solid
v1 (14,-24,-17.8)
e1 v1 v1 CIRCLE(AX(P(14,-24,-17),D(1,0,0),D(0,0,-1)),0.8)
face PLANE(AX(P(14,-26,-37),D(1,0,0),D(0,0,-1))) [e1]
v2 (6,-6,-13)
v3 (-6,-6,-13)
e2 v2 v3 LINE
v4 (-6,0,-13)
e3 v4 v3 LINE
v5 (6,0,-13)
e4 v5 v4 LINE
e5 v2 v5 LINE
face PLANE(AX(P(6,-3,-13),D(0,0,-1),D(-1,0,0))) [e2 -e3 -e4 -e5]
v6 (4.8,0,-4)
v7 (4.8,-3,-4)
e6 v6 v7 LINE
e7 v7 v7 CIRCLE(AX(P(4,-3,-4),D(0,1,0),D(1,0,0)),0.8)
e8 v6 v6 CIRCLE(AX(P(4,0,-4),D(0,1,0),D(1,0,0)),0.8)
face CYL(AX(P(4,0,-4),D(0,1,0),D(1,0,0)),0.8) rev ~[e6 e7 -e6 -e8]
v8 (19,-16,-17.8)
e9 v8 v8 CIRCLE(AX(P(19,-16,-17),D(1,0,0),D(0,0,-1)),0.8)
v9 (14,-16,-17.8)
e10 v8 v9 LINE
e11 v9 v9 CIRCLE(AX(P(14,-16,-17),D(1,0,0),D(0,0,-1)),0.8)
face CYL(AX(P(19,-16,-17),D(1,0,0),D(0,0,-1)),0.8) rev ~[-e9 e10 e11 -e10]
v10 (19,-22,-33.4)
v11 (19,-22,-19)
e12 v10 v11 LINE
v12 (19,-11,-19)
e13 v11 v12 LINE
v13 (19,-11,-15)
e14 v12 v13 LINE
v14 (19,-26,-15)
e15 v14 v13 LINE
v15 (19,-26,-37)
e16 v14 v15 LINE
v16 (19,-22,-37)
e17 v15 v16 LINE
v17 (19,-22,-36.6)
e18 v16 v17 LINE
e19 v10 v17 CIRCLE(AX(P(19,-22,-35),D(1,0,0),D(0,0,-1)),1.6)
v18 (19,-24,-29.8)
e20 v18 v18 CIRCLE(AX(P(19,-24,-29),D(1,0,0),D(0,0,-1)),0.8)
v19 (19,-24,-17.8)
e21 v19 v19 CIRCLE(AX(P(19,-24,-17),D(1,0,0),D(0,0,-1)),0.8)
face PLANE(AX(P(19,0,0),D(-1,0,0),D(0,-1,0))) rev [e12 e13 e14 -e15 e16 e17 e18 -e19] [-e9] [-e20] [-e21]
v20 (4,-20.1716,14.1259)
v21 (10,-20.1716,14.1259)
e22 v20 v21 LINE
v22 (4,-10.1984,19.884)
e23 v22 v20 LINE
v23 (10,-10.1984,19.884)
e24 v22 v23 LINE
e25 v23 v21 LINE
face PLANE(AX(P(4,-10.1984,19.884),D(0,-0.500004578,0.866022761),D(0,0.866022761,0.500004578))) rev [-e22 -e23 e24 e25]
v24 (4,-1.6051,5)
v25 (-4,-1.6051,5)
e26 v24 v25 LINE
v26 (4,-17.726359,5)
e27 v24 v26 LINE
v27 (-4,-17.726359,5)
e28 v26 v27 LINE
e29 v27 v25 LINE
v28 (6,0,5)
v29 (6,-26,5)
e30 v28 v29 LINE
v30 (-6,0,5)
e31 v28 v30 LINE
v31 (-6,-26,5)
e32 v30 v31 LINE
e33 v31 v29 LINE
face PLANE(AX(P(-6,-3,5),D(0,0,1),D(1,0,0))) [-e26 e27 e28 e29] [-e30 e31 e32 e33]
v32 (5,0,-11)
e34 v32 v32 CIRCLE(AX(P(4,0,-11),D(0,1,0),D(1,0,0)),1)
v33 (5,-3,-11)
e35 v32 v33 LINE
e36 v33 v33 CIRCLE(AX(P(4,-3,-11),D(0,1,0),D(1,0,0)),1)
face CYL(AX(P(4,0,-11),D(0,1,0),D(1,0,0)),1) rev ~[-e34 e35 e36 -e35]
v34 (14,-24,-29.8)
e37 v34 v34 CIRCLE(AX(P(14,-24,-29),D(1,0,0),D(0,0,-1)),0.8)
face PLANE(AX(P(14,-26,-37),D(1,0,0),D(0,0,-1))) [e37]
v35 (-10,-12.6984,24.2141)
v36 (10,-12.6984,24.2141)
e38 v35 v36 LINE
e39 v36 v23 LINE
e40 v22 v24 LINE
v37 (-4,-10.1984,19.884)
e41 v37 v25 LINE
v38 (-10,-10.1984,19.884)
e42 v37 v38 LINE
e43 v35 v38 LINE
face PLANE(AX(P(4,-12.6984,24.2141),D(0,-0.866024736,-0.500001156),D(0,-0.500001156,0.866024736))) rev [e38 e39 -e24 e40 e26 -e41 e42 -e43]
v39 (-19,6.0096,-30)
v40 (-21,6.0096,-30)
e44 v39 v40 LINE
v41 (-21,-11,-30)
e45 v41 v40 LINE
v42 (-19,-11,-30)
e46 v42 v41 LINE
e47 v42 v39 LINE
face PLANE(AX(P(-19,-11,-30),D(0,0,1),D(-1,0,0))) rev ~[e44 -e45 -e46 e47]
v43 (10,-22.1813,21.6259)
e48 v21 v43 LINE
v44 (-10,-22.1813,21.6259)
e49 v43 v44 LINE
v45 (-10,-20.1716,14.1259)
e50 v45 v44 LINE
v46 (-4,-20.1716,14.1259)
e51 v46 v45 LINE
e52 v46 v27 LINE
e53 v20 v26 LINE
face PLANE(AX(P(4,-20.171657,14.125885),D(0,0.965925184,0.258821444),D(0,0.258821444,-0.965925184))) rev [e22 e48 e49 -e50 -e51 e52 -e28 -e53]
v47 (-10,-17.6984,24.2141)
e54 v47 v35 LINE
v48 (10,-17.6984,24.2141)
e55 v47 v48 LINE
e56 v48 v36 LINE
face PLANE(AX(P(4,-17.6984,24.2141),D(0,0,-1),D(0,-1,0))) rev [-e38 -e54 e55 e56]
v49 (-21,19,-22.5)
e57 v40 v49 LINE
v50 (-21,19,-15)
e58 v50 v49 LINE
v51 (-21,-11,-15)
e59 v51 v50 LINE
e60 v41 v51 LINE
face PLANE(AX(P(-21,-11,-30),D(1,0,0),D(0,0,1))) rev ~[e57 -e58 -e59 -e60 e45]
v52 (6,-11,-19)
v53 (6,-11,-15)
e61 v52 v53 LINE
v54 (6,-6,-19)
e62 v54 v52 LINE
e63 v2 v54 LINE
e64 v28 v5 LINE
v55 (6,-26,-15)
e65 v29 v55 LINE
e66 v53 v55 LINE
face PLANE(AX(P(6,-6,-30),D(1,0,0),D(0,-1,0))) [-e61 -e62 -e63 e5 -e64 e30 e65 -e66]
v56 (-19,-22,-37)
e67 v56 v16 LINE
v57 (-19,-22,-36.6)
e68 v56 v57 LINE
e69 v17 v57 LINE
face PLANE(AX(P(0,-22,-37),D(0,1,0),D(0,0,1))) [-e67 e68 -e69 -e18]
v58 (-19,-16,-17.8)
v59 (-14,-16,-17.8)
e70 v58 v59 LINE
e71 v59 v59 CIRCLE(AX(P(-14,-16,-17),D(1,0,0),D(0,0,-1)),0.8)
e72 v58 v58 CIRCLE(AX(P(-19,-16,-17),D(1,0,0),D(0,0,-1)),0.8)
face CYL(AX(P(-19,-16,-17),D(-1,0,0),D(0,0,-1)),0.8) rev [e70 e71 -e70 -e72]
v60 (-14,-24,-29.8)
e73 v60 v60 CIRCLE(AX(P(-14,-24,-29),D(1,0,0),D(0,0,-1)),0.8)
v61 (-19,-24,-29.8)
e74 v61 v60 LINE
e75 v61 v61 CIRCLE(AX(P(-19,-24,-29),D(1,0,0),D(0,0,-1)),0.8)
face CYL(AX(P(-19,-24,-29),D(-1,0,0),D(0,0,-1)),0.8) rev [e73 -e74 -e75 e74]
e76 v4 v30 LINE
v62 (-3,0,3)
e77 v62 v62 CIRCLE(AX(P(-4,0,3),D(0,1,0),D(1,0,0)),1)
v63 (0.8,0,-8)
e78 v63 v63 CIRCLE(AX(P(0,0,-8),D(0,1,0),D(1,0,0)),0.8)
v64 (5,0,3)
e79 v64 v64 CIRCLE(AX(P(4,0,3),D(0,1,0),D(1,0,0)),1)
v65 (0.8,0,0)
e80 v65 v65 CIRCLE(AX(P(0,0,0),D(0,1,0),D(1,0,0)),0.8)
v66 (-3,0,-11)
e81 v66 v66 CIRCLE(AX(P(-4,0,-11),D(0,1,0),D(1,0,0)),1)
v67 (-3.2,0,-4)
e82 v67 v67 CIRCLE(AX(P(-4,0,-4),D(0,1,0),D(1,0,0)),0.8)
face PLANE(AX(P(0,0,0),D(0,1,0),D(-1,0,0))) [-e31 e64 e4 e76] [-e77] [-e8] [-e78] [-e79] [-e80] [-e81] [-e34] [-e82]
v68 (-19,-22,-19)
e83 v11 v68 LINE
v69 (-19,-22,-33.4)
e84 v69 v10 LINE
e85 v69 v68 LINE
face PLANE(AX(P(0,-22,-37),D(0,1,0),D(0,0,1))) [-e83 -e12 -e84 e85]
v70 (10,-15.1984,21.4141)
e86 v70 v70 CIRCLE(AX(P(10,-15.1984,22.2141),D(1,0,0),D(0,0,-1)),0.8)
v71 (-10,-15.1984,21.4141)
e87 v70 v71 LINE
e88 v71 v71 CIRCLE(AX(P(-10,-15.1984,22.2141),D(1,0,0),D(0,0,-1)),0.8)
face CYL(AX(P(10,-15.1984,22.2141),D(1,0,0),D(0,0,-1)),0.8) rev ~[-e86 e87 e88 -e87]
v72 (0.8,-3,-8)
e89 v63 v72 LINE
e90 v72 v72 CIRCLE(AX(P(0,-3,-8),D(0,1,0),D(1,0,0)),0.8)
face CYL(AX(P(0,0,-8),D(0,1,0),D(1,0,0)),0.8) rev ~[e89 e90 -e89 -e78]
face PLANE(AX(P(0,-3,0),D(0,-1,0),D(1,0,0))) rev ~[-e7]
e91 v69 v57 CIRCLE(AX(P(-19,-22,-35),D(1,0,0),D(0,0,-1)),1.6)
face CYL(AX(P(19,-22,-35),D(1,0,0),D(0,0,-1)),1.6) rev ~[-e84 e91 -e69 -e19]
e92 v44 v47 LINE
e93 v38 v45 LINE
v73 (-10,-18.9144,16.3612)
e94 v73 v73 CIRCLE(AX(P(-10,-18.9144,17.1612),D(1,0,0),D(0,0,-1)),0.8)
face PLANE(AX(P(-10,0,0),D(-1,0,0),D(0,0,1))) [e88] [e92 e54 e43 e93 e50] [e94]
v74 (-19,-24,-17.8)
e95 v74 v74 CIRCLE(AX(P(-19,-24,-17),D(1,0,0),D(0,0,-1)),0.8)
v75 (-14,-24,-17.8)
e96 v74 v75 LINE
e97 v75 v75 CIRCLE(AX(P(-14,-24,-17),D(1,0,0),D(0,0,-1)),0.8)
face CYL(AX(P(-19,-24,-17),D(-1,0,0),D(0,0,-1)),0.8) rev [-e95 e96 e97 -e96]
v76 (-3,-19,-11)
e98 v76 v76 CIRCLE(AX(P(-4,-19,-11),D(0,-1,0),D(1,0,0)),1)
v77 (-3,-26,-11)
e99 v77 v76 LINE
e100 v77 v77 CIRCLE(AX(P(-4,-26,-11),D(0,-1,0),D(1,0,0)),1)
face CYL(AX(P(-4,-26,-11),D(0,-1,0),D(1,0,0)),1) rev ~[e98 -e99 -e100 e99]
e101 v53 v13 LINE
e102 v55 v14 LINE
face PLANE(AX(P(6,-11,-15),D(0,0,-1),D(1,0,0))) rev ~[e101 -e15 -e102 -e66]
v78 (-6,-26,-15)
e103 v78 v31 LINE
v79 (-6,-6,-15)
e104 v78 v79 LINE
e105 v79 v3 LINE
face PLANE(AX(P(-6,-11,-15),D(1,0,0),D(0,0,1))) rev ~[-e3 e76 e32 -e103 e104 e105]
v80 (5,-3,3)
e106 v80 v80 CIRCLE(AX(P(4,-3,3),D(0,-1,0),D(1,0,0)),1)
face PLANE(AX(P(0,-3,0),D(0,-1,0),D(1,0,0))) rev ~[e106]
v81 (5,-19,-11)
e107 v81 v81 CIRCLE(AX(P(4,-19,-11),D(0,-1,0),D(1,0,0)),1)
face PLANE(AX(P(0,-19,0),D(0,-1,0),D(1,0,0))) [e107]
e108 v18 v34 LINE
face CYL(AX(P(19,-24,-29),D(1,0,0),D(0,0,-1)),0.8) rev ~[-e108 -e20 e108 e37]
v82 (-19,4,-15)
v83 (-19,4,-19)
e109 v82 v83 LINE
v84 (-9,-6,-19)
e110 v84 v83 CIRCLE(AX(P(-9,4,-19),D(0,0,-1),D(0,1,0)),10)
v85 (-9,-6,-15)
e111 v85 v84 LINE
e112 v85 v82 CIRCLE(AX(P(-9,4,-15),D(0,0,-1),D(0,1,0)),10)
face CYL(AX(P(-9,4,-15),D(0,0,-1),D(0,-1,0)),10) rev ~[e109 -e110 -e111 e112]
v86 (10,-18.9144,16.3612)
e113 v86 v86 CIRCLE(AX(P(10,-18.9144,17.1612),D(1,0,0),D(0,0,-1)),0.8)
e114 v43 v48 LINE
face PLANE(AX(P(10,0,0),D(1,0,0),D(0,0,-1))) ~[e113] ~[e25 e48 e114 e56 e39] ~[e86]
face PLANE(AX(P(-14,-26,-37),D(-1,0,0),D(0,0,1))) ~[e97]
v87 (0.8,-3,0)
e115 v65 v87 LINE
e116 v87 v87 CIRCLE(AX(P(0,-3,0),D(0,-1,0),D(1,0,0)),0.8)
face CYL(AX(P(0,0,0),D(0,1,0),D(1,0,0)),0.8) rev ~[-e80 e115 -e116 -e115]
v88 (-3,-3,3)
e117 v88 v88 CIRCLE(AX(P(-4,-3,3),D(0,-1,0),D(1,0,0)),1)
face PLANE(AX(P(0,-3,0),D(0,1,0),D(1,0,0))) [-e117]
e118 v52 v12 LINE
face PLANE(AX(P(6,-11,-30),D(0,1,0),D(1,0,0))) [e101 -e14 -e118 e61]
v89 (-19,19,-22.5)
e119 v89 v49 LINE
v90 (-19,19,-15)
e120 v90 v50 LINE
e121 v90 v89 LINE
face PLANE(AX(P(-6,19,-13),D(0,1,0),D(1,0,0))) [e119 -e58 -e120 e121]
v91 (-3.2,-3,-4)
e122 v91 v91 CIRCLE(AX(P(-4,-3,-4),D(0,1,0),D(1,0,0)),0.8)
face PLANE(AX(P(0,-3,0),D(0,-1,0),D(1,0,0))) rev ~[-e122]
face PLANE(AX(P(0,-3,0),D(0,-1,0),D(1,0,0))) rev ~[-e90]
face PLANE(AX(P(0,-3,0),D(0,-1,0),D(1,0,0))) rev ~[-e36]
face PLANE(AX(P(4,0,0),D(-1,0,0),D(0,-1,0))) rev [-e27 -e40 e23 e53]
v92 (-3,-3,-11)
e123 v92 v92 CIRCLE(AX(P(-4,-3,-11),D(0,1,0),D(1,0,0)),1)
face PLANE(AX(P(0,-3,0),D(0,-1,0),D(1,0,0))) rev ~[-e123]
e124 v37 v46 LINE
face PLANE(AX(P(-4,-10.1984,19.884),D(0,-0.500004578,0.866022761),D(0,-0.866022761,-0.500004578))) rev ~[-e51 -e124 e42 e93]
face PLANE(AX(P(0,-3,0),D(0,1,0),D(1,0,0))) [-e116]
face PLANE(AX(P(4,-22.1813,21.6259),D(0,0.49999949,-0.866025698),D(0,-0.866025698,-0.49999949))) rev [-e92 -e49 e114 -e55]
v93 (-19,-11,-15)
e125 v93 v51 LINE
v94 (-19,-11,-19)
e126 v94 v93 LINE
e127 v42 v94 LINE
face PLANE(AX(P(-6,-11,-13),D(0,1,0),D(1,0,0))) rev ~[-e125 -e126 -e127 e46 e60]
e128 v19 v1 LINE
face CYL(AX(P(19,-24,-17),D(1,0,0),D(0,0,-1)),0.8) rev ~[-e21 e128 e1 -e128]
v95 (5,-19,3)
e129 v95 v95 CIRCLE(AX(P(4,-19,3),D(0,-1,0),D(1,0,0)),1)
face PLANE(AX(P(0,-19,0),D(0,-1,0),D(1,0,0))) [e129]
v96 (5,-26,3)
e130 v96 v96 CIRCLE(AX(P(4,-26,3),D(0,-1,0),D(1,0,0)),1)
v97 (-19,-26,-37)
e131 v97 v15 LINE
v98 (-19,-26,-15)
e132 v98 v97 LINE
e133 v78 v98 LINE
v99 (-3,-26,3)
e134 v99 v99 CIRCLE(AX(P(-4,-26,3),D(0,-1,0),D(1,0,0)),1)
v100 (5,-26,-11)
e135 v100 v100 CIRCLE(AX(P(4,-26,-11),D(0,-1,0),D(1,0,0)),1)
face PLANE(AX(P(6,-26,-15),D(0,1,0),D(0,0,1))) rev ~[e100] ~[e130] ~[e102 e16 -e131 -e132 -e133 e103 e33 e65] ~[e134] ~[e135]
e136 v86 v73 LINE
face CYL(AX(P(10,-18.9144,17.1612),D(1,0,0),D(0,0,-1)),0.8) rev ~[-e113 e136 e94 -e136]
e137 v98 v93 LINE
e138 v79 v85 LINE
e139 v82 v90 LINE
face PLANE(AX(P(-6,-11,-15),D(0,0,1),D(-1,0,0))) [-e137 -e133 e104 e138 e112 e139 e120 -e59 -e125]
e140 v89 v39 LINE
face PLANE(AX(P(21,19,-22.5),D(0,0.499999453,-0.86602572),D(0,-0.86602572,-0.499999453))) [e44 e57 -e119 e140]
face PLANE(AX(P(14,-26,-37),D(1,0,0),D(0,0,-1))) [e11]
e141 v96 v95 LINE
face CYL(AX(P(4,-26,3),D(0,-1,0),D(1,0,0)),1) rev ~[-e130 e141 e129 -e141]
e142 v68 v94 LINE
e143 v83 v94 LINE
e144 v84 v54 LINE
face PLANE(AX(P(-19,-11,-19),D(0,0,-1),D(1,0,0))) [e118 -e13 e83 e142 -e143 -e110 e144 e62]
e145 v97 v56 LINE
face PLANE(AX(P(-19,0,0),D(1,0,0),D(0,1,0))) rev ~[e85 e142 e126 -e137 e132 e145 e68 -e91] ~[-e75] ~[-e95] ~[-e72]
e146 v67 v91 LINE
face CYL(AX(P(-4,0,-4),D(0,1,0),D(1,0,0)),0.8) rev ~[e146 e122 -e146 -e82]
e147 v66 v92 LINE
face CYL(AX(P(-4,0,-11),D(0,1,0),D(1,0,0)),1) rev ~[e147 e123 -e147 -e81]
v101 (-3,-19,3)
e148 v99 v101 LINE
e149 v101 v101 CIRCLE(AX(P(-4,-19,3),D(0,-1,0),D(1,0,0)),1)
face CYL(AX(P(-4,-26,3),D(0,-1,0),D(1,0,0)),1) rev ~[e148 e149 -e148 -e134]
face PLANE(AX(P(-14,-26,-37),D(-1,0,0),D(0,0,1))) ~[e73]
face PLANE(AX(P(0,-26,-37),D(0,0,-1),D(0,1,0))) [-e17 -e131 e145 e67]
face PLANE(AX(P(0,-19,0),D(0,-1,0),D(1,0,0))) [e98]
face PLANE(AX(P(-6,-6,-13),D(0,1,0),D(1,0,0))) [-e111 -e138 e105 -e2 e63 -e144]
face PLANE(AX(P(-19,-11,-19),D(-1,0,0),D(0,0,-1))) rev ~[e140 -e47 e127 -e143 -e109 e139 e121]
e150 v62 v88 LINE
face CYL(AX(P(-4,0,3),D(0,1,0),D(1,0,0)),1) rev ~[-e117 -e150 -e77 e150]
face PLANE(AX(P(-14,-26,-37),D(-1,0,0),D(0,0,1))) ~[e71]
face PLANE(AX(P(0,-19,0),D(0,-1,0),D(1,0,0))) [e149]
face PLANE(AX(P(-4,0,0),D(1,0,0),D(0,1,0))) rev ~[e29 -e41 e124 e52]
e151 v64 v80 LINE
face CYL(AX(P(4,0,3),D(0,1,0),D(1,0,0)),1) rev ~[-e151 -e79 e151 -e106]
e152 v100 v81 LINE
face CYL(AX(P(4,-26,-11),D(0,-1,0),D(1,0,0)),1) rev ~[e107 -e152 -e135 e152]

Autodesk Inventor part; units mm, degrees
ref_plane "YZ Plane" through (0, 0, 0) normal (1, 0, 0) x (0, 1, 0)
ref_plane "XZ Plane" through (0, 0, 0) normal (0, 1, 0) x (-1, 0, 0)
ref_plane "XY Plane" through (0, 0, 0) normal (0, 0, 1) x (1, 0, 0)
sketch "スケッチ1" plane through (0, 0, 0) normal (0, 1, 0) x (-1, 0, 0)
  line L0 (-6, -13) -> (6, -13)
  line L1 (6, -13) -> (6, 13)
  line L2 (6, 13) -> (-6, 13)
  line L3 (-6, 13) -> (-6, -13)
  line L4 (-6, -13) -> (6, 13) construction
  line L5 (6, -13) -> (-6, 13) construction
  line L6 (6, 13) -> (-6, 13)
  line L7 (-6, 13) -> (-6, 5)
  line L8 (-6, 5) -> (6, 5)
  line L9 (6, 5) -> (6, 13)
  point P0 (0, 0)
  point P1 (0, 13)
  point P2 (-6, 13)
  point P3 (6, 5)
  dimension "d0" = 12
  dimension "d1" = 26
  dimension "d26" = 12
  dimension "d27" = 8
extrude "押し出し1" add sketch "スケッチ1" against normal blind 3 contours L3 L8 L1 L0
sketch "スケッチ5" plane through (0, 0, 0) normal (1, 0, 0) x (0, 1, 0)
  line L0 (-3, 5) -> (-3, -13) projected
  line L1 (-3, 5) -> (-3, 13)
  line L2 (-1.6051, 5) -> (-12.6984, 24.2141)
  line L3 (-12.6984, 24.2141) -> (-17.6984, 24.2141)
  line L4 (-16.3866, 0) -> (-3, 0)
  line L5 (0, 5) -> (-3, 5) projected
  line L6 (-17.6984, 24.2141) -> (-22.1813, 21.6259)
  line L7 (-22.1813, 21.6259) -> (-16.3866, 0)
  line L8 (-12.6984, 24.2141) -> (-8.3683, 26.7141) construction
  line L9 (-8.3683, 26.7141) -> (-7.6183, 25.4151) construction
  circle A0 centre (-7.6183, 25.4151) radius 1 construction
  line L10 (36.5, 48) -> (-6.3683, 23.25) construction
  line L11 (0, 13) -> (36.5, 13) construction
  line L12 (0, -13) -> (0, 5) projected
  line L13 (-3, 5) -> (-1.6051, 5)
  point P0 (0, 0)
  dimension "d28" = 8
  dimension "d29" = 120
  dimension "d31" = 5
  dimension "d32" = 5
  dimension "d35" = 5
  dimension "d36" = 150
  dimension "d37" = 75
  dimension "d47" = 5
  dimension "d48" = 1.5
  dimension "d49" = 2
  dimension "d50" = 2.5
  dimension "d51" = 49.5
  dimension "d53" = 8
  dimension "d54" = 36.5
  dimension "d55" = 35
extrude "押し出し5" add sketch "スケッチ5" against normal blind 4
sketch "スケッチ6" plane through (-4, 0, 0) normal (-1, 0, 0) x (0, 0, 1)
  line L0 (0, -3) -> (0, -16.3866) projected
  line L1 (0, -16.3866) -> (21.6259, -22.1813) projected
  line L2 (21.6259, -22.1813) -> (24.2141, -17.6984) projected
  line L3 (24.2141, -17.6984) -> (24.2141, -12.6984) projected
  line L4 (24.2141, -12.6984) -> (5, -1.6051) projected
  line L5 (0, -3) -> (5, -3) projected
  line L6 (19.884, -10.1984) -> (14.1259, -20.1716)
  line L7 (24.2141, -12.6984) -> (5.604, -1.9538) projected
  line L8 (5, -3) -> (5, -1.6051) projected
  point P0 (0, 0)
  dimension "d38" = 5
extrude "押し出し6" add sketch "スケッチ6" along normal blind 6 contours L6 L4 L3 L2 L1
mirror "ミラー3" about plane through (0, -11.8932, 12.1071) normal (1, 0, 0) of "押し出し5", "押し出し6"
sketch "スケッチ7" plane through (0, 0, 0) normal (0, 1, 0) x (1, 0, 0)
  circle A0 centre (4, -3) radius 1 projected
  circle A1 centre (-4, 11) radius 1 projected
  circle A2 centre (0, 0) radius 0.8 projected
  circle A3 centre (0, 8) radius 0.8 projected
  circle A4 centre (-4, 4) radius 0.8 projected
  circle A5 centre (4, 4) radius 0.8 projected
  circle A6 centre (4, 11) radius 1 projected
  circle A7 centre (-4, -3) radius 1 projected
  line L0 (6, -8) -> (6, -10) projected
  line L1 (30, -13) -> (9, -13) projected
  line L2 (33, -9.25) -> (33, -10) projected
  arc A8 (30, 6.25) -> (30, -6.25) centre (30, 0) ccw projected
  line L3 (33, 10) -> (33, 9.25) projected
  line L4 (-30, 13) -> (30, 13) projected
  line L5 (-33, -10) -> (-33, -9.25) projected
  arc A9 (-30, -6.25) -> (-30, 6.25) centre (-30, 0) ccw projected
  line L6 (-33, 9.25) -> (-33, 10) projected
  line L7 (-9, -13) -> (-30, -13) projected
  line L8 (-6, -10) -> (-6, -8) projected
  line L9 (-3, -5) -> (3, -5) projected
  line L10 (21.75, 7.5) -> (21.75, -7.5) projected
  line L11 (18.75, -10.5) -> (14, -10.5) projected
  line L12 (11, -7.5) -> (11, 7.5) projected
  line L13 (14, 10.5) -> (18.75, 10.5) projected
  circle A10 centre (9, 10.5) radius 0.85 projected
  circle A11 centre (30, -10.5) radius 0.85 projected
  circle A12 centre (-30, -10.5) radius 0.85 projected
  circle A13 centre (-9, 10.5) radius 0.85 projected
  circle A14 centre (-30, 10.5) radius 0.85 projected
  circle A15 centre (-9, -10.5) radius 0.85 projected
  circle A16 centre (9, -10.5) radius 0.85 projected
  circle A17 centre (30, 10.5) radius 0.85 projected
  line L14 (-11, 7.5) -> (-11, -7.5) projected
  line L15 (-14, -10.5) -> (-18.75, -10.5) projected
  line L16 (-21.75, -7.5) -> (-21.75, 7.5) projected
  line L17 (-18.75, 10.5) -> (-14, 10.5) projected
  arc A18 (-30, 13) -> (-33, 10) centre (-30, 10) ccw projected
  arc A19 (-33, 9.25) -> (-30, 6.25) centre (-30, 9.25) ccw projected
  arc A20 (-30, -6.25) -> (-33, -9.25) centre (-30, -9.25) ccw projected
  arc A21 (-33, -10) -> (-30, -13) centre (-30, -10) ccw projected
  arc A22 (-9, -13) -> (-6, -10) centre (-9, -10) ccw projected
  arc A23 (-3, -5) -> (-6, -8) centre (-3, -8) ccw projected
  arc A24 (6, -8) -> (3, -5) centre (3, -8) ccw projected
  arc A25 (6, -10) -> (9, -13) centre (9, -10) ccw projected
  arc A26 (30, -13) -> (33, -10) centre (30, -10) ccw projected
  arc A27 (33, -9.25) -> (30, -6.25) centre (30, -9.25) ccw projected
  arc A28 (30, 6.25) -> (33, 9.25) centre (30, 9.25) ccw projected
  arc A29 (33, 10) -> (30, 13) centre (30, 10) ccw projected
  arc A30 (-14, -10.5) -> (-11, -7.5) centre (-14, -7.5) ccw projected
  arc A31 (-21.75, -7.5) -> (-18.75, -10.5) centre (-18.75, -7.5) ccw projected
  arc A32 (-18.75, 10.5) -> (-21.75, 7.5) centre (-18.75, 7.5) ccw projected
  arc A33 (-11, 7.5) -> (-14, 10.5) centre (-14, 7.5) ccw projected
  arc A34 (18.75, -10.5) -> (21.75, -7.5) centre (18.75, -7.5) ccw projected
  arc A35 (11, -7.5) -> (14, -10.5) centre (14, -7.5) ccw projected
  arc A36 (14, 10.5) -> (11, 7.5) centre (14, 7.5) ccw projected
  arc A37 (21.75, 7.5) -> (18.75, 10.5) centre (18.75, 7.5) ccw projected
  point P0 (0, 0)
extrude "押し出し7" cut sketch "スケッチ7" against normal up to surface (3 mm away) contours A0 | A1 | A2 | A3 | A4 | A5 | A6 | A7
sketch "スケッチ8" plane through (0, -3, 0) normal (0, -1, 0) x (1, 0, 0)
  line L0 (-6, 5) -> (6, 5) projected
  line L1 (-6, -13) -> (-6, 5) projected
  line L2 (6, -13) -> (-6, -13) projected
  line L3 (6, 5) -> (6, -13) projected
  point P0 (0, 0)
extrude "押し出し8" add sketch "スケッチ8" along normal blind 23
sketch "スケッチ9" plane through (0, -26, 0) normal (0, -1, 0) x (1, 0, 0)
  circle A0 centre (-4, 3) radius 1 projected
  circle A1 centre (4, 3) radius 1 projected
  circle A2 centre (4, -11) radius 1 projected
  circle A3 centre (4, -11) radius 1 projected
  circle A4 centre (-4, -11) radius 1 projected
  circle A5 centre (-4, -11) radius 1 projected
  point P0 (0, 0)
extrude "押し出し9" cut sketch "スケッチ9" against normal blind 7
sketch "スケッチ10" plane through (10, -17.6984, 24.2141) normal (1, 0, 0) x (0, 0, -1)
  circle A0 centre (2, 2.5) radius 1 construction
  circle A1 centre (7.0529, -1.216) radius 1 construction
  circle A2 centre (2, 2.5) radius 0.8
  circle A3 centre (7.0529, -1.216) radius 0.8
  point P0 (24.2141, 17.6984)
  dimension "d56" = 1.6
  dimension "d57" = 1.6
extrude "押し出し10" cut sketch "スケッチ10" against normal through all
sketch "スケッチ11" plane through (6, 0, 5) normal (1, 0, 0) x (0, 0, -1)
  line L0 (18, 0) -> (18, -26) projected
  line L1 (18, -11) -> (20, -11)
  line L2 (20, -11) -> (20, -26)
  line L3 (20, -26) -> (18, -26)
  line L4 (18, -26) -> (18, -11)
  line L5 (18, -26) -> (0, -26) projected
  point P0 (5, 0)
  dimension "d60" = 15
  dimension "d61" = 2
extrude "押し出し11" add sketch "スケッチ11" against normal up to surface (12 mm away)
sketch "スケッチ12" plane through (0, 0, 0) normal (1, 0, 0) x (0, 1, 0)
  line L0 (-26, -15) -> (-11, -15) projected
  line L1 (-11, -15) -> (-26, -15)
  line L2 (-26, -15) -> (-26, -19)
  line L3 (-26, -19) -> (-11, -19)
  line L4 (-11, -19) -> (-11, -15)
  line L5 (-22, -19) -> (-26, -19)
  line L6 (-26, -19) -> (-26, -37)
  line L7 (-26, -37) -> (-22, -37)
  line L8 (-22, -37) -> (-22, -19)
  line L9 (-26, 5) -> (-26, -15) projected
  point P0 (0, 0)
  dimension "d64" = 4
  dimension "d65" = 4
  dimension "d66" = 18
extrude "押し出し12" add sketch "スケッチ12" against normal blind 19
mirror "ミラー4" about plane through (0, -18.5, -26) normal (1, 0, 0) of "押し出し12"
sketch "スケッチ13" plane through (-6, -11, -13) normal (0, 1, 0) x (1, 0, 0)
  line L0 (-15, 6) -> (27, 6)
  line L1 (27, 6) -> (27, 2)
  line L2 (27, 2) -> (-15, 2)
  line L3 (-15, 2) -> (-15, 6)
  line L4 (0, 2) -> (-13, 2) projected
  line L5 (-13, 6) -> (25, 6) projected
  line L6 (25, 2) -> (25, 6) projected
  line L7 (-15, 2) -> (-13, 2)
  line L8 (-13, 2) -> (-13, 17)
  line L9 (-13, 17) -> (-15, 17)
  line L10 (-15, 17) -> (-15, 2)
  line L11 (27, 2) -> (25, 2)
  line L12 (25, 2) -> (25, 17)
  line L13 (25, 17) -> (27, 17)
  line L14 (27, 17) -> (27, 2)
  line L15 (-13, 2) -> (-13, 6) projected
  point P0 (6, -13)
  point P1 (25, 6)
  point P2 (27, 6)
  point P3 (-13, 2)
  point P4 (-15, 6)
  dimension "d75" = 2
  dimension "d76" = 2
  dimension "d77" = 15
extrude "押し出し13" add sketch "スケッチ13" along normal blind 30 contours L10 L9 L8 L0 | L0 L8 L2 L3 | L12 L13 L14 L0 | L0 L1 L2 L6
sketch "スケッチ14" plane through (-6, -11, -13) normal (0, 1, 0) x (1, 0, 0)
  line L0 (0, 2) -> (0, 0) projected
  line L1 (12, 0) -> (0, 0) projected
  line L2 (12, 2) -> (12, 0) projected
  line L3 (12, 2) -> (25, 2) projected
  line L4 (25, 2) -> (25, 6) projected
  line L5 (-13, 6) -> (25, 6) projected
  line L6 (-13, 2) -> (-13, 6) projected
  line L7 (0, 2) -> (-13, 2) projected
  point P0 (6, -13)
extrude "押し出し14" add sketch "スケッチ14" along normal blind 5
fillet "フィレット1" radius 10 2 edges at (-19, -6, -17) (19, -6, -17)
sketch "スケッチ16" plane through (21, -11, -15) normal (1, 0, 0) x (0, 0, -1)
  line L0 (15, 30) -> (0, 30) projected
  line L1 (7.5, 30) -> (15, 17.0096)
  line L2 (15, 0) -> (15, 30) projected
  point P0 (-15, 11)
  dimension "d85" = 120
extrude "押し出し16" cut sketch "スケッチ16" along normal through all both and the other way through all
sketch "スケッチ17" plane through (19, -26, -37) normal (1, 0, 0) x (0, 0, -1)
  circle A0 centre (-2, 4) radius 1.6 projected
  point P0 (-37, 26)
extrude "押し出し17" cut sketch "スケッチ17" against normal through all
sketch "スケッチ18" plane through (19, -26, -37) normal (1, 0, 0) x (0, 0, -1)
  circle A0 centre (-20, 10) radius 0.8
  circle A1 centre (-20, 2) radius 0.8
  circle A2 centre (-8, 2) radius 0.8
  line L0 (-22, 0) -> (-22, 15) projected
  line L1 (0, 0) -> (-22, 0) projected
  point P0 (-37, 26)
  dimension "d90" = 1.6
  dimension "d91" = 1.6
  dimension "d92" = 1.6
  dimension "d93" = 2
  dimension "d94" = 2
  dimension "d95" = 8
  dimension "d96" = 12
extrude "押し出し18" cut sketch "スケッチ18" against normal blind 5
mirror "ミラー5" about plane through (0, 0, 0) normal (1, 0, 0) of "押し出し18"
sketch "スケッチ19" plane through (21, -11, -30) normal (0, 0, -1) x (-1, 0, 0)
  line L0 (0, 0) -> (2, 0) projected
  line L1 (15, 11) -> (15, 5) projected
  line L2 (15, 11) -> (15, -15) projected
  line L3 (15, 0) -> (-20, 0)
  line L4 (-20, 0) -> (-20, 40)
  line L5 (-20, 40) -> (15, 40)
  line L6 (15, 40) -> (15, 0)
  point P0 (21, 11)
extrude "押し出し19" cut sketch "スケッチ19" against normal blind 40
equation "\"d76\" = d75"
properties part number "hipjoint_middle"
